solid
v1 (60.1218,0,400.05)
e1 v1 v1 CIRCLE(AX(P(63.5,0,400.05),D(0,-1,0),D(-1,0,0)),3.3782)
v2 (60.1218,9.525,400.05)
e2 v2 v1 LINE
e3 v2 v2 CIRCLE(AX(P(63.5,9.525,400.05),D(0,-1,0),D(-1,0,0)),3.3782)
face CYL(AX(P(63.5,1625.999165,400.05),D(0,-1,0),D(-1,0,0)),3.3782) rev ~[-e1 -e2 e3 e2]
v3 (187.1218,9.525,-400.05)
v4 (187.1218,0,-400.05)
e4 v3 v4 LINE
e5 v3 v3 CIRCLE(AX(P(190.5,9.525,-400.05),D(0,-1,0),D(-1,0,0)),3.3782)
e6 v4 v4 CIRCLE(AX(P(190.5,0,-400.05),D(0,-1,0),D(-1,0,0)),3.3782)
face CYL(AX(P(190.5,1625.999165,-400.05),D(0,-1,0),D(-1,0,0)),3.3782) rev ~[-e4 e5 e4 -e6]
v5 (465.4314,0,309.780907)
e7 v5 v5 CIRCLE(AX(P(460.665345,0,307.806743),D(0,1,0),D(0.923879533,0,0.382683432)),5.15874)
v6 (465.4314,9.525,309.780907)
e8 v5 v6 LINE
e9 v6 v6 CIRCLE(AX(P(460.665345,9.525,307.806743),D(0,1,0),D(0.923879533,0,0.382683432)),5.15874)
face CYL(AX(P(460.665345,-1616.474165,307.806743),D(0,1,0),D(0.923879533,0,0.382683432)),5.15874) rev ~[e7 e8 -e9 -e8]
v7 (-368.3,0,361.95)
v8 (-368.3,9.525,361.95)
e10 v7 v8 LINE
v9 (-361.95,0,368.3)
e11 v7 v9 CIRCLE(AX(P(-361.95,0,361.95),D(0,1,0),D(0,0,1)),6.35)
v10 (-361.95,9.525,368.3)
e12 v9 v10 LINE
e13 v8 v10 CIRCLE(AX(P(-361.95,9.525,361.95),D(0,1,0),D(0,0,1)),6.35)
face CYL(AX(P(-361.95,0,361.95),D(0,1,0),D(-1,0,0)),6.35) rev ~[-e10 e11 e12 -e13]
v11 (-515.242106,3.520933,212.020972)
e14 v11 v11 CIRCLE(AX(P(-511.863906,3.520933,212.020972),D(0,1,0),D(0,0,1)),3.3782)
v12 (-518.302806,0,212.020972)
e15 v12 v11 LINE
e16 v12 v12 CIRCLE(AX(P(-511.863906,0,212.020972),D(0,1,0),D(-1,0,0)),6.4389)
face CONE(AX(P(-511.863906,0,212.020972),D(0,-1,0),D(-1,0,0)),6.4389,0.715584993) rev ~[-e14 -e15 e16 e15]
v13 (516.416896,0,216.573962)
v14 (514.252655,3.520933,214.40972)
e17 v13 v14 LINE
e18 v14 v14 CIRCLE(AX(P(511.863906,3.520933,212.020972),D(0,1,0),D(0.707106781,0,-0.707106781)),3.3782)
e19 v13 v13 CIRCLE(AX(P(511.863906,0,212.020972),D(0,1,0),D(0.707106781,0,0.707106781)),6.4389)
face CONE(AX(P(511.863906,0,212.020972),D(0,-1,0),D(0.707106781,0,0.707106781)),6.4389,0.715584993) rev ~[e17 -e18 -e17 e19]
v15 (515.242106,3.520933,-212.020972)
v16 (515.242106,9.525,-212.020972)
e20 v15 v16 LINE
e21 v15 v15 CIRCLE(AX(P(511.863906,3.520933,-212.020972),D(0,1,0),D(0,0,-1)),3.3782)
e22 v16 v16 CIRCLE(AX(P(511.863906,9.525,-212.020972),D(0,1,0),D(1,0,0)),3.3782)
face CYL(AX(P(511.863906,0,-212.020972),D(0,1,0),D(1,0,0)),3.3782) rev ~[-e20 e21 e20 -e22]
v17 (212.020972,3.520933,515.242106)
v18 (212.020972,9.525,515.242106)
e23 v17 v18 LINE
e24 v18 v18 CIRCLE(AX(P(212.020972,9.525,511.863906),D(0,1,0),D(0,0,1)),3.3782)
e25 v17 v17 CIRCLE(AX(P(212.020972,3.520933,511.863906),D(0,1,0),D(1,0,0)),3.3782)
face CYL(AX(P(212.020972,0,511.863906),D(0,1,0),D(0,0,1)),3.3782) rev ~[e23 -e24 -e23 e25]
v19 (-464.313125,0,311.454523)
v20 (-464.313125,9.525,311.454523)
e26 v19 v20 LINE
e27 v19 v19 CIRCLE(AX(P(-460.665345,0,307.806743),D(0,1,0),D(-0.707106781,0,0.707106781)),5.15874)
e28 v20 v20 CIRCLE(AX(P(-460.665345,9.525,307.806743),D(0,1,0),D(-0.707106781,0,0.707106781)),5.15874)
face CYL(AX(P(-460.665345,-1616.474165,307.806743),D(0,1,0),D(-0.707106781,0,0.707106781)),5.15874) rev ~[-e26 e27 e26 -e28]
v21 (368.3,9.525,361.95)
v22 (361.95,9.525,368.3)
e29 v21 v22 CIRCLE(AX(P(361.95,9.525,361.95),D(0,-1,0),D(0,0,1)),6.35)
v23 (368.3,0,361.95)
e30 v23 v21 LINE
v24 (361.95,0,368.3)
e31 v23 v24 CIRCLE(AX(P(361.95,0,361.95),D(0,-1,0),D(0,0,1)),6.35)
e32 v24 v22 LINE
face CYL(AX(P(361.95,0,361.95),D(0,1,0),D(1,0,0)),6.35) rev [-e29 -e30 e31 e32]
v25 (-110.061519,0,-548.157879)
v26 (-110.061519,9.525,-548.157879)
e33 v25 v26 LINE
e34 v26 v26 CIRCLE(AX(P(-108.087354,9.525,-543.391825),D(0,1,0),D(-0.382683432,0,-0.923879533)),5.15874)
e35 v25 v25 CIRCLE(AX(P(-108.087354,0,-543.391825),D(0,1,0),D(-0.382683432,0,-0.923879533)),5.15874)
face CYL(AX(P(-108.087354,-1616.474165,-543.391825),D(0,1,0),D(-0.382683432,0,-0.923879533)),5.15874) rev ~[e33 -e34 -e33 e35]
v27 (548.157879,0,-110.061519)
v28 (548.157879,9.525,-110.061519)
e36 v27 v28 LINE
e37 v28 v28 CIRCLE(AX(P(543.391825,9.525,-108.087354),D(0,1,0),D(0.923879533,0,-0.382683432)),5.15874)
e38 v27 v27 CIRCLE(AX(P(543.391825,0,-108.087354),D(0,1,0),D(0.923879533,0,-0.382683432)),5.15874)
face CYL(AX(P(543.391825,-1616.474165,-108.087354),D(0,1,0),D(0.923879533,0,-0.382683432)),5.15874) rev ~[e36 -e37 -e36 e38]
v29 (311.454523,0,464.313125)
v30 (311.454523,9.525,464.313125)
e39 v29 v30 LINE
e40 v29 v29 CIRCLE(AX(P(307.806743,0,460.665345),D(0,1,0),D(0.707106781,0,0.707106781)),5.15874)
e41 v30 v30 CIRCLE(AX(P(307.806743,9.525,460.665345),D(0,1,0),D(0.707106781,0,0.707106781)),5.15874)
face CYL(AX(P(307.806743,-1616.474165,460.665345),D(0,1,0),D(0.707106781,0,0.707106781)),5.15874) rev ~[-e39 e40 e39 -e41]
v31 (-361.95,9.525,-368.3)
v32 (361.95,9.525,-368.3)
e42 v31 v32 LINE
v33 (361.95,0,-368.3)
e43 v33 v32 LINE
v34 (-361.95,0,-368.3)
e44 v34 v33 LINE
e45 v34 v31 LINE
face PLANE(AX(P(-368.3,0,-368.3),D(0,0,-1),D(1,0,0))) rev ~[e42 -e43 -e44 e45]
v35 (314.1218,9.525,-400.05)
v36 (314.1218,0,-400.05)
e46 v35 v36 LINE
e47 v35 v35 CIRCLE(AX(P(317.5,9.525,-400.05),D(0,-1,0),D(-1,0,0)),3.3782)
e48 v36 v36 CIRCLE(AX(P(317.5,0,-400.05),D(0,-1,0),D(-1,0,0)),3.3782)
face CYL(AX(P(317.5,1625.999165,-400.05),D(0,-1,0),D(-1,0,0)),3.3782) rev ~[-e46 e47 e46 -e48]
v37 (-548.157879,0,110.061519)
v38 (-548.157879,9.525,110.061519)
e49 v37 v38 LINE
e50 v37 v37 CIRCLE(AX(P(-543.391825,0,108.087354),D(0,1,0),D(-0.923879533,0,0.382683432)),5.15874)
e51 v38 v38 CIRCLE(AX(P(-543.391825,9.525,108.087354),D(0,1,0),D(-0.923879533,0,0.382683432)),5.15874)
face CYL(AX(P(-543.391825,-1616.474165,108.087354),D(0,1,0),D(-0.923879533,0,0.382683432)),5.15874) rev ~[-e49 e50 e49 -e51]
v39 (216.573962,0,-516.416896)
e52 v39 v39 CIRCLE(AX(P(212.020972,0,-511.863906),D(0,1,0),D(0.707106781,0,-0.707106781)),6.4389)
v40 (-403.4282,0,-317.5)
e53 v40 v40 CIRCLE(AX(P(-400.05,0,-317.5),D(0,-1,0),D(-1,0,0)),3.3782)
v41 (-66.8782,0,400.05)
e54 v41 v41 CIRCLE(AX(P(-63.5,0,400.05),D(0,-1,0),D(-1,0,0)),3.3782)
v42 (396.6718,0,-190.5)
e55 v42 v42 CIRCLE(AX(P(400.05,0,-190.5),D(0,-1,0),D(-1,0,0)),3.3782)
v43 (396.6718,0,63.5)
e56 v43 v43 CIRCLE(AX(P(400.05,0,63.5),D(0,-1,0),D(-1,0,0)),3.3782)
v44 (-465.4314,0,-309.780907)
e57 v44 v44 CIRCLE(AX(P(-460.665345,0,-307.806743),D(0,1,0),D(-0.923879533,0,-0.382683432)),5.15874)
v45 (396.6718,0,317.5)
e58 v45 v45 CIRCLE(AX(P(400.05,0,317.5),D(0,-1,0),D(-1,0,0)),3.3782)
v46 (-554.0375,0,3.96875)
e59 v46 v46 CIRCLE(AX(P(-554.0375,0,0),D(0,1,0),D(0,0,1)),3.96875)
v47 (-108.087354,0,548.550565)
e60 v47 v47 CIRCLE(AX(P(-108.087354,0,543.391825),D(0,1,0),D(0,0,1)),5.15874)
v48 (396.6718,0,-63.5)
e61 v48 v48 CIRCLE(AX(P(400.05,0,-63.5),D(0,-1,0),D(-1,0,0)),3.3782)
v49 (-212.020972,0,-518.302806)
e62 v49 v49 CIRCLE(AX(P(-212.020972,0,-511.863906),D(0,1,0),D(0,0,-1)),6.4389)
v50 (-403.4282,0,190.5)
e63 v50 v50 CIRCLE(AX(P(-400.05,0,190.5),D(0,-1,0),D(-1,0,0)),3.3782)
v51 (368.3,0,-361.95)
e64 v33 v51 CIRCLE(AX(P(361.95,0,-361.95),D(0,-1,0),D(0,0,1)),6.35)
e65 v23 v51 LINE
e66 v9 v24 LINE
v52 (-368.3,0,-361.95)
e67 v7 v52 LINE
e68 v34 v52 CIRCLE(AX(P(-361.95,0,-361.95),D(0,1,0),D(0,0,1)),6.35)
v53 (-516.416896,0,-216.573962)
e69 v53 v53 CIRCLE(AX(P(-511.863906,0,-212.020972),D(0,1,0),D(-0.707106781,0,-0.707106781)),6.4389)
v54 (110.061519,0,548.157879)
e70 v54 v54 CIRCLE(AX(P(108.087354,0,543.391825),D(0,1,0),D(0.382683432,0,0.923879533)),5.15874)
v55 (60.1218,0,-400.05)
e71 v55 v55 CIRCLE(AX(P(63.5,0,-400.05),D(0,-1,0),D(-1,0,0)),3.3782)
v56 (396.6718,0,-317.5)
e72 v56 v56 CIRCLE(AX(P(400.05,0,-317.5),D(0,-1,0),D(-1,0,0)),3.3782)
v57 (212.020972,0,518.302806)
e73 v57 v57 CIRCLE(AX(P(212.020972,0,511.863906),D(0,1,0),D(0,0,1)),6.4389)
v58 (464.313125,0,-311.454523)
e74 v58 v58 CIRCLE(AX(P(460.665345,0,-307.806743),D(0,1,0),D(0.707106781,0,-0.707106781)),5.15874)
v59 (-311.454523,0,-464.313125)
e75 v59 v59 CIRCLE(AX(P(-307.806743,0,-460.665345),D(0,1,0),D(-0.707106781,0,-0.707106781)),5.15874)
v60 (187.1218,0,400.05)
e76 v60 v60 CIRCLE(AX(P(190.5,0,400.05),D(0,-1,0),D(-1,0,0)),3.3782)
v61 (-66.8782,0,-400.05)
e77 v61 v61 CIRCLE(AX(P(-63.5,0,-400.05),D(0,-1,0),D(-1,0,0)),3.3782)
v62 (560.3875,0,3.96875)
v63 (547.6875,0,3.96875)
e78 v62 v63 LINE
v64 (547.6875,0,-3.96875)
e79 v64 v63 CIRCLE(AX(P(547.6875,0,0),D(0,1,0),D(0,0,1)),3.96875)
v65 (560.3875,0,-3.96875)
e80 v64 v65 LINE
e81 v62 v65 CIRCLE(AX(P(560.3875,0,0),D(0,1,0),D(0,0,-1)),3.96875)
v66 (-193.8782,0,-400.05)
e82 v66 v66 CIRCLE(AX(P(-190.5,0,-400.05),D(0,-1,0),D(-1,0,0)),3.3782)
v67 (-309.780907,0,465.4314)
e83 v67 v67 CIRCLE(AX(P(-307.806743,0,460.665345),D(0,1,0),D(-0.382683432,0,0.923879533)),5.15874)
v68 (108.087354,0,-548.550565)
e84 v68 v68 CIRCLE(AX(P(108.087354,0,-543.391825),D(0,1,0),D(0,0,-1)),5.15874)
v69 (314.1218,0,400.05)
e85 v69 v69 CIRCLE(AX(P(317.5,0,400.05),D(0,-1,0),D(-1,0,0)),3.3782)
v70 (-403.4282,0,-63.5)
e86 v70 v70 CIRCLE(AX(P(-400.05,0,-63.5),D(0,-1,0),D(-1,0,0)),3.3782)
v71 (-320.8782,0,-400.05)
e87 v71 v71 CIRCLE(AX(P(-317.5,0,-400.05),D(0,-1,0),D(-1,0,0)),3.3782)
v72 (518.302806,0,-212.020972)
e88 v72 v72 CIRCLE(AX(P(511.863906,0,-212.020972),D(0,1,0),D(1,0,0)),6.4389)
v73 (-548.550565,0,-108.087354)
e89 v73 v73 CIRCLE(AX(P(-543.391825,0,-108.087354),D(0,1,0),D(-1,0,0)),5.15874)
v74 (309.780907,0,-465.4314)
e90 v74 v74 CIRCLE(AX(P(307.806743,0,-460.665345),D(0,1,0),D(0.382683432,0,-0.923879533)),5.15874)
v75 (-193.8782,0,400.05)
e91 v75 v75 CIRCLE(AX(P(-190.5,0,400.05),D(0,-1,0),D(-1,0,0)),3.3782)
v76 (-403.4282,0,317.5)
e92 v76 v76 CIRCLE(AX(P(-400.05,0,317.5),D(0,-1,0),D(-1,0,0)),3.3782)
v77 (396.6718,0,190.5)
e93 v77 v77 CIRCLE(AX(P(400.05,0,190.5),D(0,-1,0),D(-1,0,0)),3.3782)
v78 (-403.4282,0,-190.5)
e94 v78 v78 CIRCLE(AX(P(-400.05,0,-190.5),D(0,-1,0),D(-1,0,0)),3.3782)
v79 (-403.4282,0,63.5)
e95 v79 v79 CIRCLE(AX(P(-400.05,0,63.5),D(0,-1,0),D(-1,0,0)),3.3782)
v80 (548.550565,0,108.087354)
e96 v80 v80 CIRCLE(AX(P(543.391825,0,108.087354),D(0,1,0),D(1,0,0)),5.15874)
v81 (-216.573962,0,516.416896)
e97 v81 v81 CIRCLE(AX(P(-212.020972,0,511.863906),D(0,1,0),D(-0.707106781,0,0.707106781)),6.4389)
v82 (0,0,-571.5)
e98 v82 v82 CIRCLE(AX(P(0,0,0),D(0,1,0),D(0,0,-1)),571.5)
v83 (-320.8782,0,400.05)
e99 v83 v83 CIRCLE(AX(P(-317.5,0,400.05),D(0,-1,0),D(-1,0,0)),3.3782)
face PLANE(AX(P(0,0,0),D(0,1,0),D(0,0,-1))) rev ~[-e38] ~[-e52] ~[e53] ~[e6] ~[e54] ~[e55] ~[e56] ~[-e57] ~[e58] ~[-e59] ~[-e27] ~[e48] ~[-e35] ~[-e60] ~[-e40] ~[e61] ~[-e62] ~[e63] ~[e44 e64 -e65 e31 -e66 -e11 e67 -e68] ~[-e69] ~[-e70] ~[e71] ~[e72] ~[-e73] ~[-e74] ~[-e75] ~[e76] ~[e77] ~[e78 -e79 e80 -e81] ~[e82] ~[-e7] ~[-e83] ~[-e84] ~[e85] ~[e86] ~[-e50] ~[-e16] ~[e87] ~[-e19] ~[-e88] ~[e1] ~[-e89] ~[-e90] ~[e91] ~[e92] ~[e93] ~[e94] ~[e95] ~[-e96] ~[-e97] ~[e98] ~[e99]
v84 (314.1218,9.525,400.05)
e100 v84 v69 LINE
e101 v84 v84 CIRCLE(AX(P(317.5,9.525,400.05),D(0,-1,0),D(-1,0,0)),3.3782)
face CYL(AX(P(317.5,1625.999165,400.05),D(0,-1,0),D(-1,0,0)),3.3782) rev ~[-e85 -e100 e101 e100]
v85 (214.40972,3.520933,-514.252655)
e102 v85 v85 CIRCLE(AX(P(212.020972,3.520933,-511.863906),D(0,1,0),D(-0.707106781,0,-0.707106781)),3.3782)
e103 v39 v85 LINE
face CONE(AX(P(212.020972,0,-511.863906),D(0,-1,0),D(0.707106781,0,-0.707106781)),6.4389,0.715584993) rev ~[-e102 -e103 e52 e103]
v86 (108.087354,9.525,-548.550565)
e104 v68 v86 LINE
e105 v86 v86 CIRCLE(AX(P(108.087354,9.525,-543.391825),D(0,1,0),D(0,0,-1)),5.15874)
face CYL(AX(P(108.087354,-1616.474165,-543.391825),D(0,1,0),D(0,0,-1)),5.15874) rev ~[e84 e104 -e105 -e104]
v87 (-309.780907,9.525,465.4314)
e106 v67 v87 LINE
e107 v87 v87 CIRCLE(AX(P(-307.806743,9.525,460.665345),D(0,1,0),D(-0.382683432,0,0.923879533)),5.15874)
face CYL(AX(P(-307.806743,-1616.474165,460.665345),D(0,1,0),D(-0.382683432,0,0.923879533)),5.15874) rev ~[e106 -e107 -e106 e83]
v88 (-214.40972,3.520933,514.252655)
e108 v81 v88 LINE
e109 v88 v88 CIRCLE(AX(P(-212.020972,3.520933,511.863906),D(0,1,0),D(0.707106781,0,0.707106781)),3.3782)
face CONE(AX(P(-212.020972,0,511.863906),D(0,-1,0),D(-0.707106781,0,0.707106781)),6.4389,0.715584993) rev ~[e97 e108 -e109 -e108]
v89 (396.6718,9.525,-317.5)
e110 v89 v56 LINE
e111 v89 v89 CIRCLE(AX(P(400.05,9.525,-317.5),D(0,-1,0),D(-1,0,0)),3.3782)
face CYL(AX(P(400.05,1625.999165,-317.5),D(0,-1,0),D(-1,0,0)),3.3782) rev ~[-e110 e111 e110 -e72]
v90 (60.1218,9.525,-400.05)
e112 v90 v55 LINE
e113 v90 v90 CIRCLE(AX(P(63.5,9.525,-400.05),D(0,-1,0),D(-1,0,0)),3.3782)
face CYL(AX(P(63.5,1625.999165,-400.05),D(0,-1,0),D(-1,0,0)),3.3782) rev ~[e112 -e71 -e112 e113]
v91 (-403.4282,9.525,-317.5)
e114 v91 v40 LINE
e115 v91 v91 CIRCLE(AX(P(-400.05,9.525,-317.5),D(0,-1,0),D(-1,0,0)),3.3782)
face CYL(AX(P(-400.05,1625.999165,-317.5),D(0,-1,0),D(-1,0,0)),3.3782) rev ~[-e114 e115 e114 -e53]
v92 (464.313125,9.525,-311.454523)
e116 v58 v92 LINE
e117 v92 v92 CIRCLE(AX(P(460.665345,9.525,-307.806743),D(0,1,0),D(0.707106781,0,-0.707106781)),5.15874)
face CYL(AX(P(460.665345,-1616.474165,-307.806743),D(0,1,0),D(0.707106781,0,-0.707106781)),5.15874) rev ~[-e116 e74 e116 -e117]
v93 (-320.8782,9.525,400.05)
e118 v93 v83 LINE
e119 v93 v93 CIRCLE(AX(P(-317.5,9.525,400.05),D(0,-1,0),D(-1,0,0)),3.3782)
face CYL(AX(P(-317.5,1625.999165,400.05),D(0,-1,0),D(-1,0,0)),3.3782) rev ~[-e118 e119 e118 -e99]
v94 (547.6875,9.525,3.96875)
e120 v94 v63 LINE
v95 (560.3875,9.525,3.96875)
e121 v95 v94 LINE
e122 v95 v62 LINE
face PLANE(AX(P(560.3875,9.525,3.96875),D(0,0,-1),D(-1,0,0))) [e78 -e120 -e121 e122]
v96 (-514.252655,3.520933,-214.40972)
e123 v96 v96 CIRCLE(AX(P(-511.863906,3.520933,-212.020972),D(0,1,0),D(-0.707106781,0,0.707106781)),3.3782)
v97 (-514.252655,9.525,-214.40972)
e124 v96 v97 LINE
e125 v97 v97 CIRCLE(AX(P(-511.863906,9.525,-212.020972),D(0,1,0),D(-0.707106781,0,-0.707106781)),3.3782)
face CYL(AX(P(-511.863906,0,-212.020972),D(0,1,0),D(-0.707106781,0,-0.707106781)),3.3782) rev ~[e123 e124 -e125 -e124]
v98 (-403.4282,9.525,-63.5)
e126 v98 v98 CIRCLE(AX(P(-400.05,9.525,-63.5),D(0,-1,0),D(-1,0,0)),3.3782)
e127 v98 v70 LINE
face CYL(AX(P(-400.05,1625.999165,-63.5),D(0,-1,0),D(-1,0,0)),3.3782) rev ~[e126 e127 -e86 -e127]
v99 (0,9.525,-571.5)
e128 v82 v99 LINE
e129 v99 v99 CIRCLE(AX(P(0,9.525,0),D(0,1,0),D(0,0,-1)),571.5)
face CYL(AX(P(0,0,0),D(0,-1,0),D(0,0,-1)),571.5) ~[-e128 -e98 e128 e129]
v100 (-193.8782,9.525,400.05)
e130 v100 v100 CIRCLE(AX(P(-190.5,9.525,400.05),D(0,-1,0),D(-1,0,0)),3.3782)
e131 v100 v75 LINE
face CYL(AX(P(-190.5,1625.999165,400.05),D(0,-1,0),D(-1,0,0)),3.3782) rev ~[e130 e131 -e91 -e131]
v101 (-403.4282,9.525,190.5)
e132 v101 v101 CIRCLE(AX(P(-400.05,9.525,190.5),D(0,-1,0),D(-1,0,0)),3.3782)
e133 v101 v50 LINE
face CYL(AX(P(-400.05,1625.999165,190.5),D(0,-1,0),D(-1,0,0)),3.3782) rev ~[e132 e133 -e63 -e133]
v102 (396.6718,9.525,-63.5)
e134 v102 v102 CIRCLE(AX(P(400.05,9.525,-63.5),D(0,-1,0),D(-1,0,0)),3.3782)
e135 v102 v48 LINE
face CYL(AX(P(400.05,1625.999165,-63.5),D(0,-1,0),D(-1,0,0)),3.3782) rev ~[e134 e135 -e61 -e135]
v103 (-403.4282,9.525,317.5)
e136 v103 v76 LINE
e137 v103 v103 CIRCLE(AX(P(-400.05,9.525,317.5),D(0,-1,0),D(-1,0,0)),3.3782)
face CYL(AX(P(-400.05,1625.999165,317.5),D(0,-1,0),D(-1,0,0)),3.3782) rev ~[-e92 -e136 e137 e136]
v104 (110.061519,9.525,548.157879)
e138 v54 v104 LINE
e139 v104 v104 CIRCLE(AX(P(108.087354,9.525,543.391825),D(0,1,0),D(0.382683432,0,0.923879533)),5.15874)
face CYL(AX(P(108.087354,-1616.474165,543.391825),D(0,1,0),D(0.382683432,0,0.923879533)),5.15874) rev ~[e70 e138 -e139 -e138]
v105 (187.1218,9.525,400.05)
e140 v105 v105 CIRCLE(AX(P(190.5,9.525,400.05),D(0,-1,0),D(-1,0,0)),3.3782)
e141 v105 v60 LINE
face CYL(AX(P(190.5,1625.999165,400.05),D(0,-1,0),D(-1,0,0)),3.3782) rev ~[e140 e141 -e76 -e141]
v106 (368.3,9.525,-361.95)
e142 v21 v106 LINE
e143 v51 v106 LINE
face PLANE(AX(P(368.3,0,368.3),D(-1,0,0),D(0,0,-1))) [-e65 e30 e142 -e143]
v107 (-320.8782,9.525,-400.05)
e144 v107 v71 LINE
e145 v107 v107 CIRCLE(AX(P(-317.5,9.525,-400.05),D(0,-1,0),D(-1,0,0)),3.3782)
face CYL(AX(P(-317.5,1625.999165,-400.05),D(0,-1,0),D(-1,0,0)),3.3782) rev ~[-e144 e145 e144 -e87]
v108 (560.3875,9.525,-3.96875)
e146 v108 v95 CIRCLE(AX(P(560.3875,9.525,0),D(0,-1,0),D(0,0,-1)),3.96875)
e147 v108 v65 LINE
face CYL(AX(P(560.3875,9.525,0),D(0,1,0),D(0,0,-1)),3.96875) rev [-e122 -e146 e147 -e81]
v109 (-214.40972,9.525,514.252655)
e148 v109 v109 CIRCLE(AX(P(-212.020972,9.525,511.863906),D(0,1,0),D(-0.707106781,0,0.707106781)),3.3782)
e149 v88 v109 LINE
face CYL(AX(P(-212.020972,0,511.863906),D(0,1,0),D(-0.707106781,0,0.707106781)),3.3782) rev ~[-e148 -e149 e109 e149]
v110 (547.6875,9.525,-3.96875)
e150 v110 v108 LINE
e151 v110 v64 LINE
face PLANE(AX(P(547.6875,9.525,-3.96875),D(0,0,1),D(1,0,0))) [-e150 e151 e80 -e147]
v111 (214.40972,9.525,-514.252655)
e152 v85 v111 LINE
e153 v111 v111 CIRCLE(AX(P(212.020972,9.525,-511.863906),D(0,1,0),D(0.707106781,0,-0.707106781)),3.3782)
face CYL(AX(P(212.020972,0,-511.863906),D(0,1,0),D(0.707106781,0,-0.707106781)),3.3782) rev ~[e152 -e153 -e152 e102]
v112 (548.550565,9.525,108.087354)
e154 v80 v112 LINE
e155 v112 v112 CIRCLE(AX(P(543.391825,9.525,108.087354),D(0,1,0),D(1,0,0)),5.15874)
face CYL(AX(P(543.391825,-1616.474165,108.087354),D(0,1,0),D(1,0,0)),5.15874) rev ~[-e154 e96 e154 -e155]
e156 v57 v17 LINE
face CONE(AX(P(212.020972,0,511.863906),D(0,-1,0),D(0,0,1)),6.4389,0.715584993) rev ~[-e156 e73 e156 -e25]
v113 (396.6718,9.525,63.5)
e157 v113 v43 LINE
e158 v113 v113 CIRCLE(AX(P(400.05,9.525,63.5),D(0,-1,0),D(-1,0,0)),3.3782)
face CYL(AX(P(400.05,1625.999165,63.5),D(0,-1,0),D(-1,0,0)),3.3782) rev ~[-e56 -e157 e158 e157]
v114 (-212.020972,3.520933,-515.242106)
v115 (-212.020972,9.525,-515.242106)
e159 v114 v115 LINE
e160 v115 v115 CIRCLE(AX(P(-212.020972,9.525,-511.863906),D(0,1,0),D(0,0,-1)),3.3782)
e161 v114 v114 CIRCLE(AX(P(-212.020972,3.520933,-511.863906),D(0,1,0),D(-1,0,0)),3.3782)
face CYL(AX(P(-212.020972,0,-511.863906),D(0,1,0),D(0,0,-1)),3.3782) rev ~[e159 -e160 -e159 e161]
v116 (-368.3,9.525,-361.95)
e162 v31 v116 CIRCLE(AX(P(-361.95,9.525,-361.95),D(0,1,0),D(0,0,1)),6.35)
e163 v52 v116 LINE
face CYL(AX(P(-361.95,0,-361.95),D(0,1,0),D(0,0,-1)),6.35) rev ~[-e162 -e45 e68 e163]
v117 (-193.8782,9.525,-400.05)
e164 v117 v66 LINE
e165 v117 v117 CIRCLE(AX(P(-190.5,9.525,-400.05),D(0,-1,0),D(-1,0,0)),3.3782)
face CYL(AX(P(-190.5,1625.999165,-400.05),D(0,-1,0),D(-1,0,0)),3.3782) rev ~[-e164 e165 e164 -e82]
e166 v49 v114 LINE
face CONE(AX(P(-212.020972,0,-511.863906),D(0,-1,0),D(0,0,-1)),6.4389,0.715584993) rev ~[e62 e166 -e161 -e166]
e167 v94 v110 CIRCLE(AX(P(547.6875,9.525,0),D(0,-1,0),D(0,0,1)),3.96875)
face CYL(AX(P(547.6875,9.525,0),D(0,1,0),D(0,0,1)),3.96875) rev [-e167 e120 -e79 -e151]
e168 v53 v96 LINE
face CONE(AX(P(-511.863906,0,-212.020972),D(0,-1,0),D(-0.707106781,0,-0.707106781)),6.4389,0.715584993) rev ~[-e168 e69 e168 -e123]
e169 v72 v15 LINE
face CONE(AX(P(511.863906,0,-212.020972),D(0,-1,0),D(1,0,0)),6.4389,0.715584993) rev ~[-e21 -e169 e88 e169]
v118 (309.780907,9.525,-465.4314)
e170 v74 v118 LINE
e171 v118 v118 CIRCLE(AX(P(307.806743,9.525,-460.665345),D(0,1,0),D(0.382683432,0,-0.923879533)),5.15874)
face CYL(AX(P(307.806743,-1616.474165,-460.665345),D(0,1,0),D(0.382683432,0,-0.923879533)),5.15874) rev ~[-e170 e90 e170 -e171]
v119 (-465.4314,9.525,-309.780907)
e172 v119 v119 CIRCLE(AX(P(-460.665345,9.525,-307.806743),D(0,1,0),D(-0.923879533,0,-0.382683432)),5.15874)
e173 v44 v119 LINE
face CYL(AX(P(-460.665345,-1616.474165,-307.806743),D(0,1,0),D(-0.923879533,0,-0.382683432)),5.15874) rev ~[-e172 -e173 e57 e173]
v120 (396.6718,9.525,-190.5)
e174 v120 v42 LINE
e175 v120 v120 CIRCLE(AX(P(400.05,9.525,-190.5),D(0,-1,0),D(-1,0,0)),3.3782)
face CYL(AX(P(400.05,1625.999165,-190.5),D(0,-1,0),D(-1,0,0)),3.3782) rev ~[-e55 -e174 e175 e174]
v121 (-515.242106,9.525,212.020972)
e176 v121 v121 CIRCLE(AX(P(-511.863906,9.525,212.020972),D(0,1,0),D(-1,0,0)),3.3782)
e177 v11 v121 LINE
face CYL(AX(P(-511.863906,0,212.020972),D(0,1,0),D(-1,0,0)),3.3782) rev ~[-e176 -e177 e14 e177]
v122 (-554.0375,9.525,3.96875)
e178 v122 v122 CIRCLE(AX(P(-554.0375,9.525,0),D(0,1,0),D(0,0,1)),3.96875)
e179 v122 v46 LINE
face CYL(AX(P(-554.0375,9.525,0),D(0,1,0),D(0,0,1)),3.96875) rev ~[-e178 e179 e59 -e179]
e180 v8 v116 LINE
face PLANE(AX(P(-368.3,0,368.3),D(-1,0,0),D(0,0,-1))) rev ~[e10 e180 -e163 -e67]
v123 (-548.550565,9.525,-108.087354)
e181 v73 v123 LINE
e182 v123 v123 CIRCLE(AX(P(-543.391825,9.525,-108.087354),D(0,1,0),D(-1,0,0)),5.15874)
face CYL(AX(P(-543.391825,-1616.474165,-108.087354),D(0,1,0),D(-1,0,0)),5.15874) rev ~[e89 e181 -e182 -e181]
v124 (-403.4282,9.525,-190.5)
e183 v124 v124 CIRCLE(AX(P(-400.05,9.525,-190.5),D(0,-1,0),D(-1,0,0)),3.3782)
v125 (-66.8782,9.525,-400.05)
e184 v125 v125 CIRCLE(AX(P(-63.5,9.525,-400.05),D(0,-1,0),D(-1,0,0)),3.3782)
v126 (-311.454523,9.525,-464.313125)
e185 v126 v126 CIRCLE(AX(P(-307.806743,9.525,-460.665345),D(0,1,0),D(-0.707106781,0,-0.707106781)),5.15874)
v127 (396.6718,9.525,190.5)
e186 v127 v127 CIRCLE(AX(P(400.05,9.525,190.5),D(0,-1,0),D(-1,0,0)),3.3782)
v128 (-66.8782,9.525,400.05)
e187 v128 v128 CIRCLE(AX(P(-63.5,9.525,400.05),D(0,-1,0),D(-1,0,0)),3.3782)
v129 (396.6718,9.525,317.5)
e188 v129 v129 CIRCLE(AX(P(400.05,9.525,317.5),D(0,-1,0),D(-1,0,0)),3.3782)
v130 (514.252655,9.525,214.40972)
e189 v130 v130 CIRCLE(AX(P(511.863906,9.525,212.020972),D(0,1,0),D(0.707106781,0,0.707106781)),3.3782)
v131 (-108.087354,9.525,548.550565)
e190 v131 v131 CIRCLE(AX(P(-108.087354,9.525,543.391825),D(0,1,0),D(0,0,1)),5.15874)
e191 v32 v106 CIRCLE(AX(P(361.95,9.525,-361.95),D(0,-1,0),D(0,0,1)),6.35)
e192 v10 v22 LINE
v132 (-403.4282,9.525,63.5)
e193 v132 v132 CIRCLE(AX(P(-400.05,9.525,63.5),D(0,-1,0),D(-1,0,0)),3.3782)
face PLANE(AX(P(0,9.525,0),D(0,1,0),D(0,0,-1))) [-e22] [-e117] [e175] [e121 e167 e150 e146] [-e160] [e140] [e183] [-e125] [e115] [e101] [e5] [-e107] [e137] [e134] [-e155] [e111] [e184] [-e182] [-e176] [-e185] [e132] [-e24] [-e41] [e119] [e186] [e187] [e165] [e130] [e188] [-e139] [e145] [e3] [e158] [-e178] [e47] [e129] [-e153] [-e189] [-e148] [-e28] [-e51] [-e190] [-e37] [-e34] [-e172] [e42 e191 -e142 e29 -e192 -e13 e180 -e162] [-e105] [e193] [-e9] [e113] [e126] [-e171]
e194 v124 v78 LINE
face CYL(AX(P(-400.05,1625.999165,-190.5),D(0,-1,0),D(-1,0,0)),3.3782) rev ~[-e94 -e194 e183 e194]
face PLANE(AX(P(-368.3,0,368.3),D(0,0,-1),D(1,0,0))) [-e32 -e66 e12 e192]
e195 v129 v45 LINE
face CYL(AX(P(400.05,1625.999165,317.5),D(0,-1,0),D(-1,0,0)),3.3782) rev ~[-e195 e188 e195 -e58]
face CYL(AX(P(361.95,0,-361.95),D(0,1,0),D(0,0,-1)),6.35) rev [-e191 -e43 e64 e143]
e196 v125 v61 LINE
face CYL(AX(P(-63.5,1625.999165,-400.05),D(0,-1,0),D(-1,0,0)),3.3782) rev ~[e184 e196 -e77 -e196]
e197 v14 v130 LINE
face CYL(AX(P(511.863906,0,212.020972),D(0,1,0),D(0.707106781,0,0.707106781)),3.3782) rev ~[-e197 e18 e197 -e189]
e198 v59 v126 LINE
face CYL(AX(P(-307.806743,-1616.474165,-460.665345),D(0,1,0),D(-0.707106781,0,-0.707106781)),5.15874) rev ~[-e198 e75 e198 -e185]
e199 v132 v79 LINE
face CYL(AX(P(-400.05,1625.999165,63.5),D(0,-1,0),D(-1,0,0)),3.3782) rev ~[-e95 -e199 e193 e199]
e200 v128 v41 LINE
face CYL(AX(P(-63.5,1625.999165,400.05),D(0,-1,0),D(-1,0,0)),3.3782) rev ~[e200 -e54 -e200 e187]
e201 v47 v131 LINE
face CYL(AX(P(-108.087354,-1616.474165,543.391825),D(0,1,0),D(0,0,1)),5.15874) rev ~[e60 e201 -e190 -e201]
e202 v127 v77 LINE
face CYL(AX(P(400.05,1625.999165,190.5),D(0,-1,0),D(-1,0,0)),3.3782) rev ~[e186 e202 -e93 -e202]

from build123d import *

# Parameters (mm, degrees)
SKETCH1_R                                        = 571.5
SKETCH1_W                                        = 736.6
SKETCH1_H                                        = 736.6
BOSS_EXTRUDE1_DEPTH                              = 9.525
SKETCH3_R                                        = 3.96875
CUT_EXTRUDE1_DEPTH                               = 809.279175548
F_3_8_CLEARANCE_HOLE1_D                          = 10.31748
CIRPATTERN_16X_3_8_CLEARANCE_HOLES_COUNT         = 16
F_1_4_BOX_HOLES_2_D                              = 6.7564
LPATTERN1_COUNT                                  = 6
LPATTERN1_PITCH                                  = 127
LPATTERN1_COUNT_DIR2                             = 2
LPATTERN1_PITCH_DIR2                             = 800.1
F_1_4_BOX_HOLES_1_D                              = 6.7564
LPATTERN2_COUNT                                  = 6
LPATTERN2_PITCH                                  = 127
LPATTERN2_COUNT_DIR2                             = 2
LPATTERN2_PITCH_DIR2                             = 800.1
CSK_FOR_1_4_FLAT_HEAD_MACHINE_SCREW1_D           = 6.7564
CSK_FOR_1_4_FLAT_HEAD_MACHINE_SCREW1_CSINK_D     = 12.8778
CSK_FOR_1_4_FLAT_HEAD_MACHINE_SCREW1_CSINK_ANGLE = 82
CIRPATTERN4_COUNT                                = 8
FILLET1_R                                        = 6.35


with BuildPart() as part:
    # Sketch1 → Boss-Extrude1 (new body)
    with BuildSketch(Plane(origin=(0, 0, 0), x_dir=(1, 0, 0), z_dir=(0, 1, 0))):
        with Locations(Location((0, 0, 0), (0, 0, 90))):
            Circle(SKETCH1_R)
        Rectangle(SKETCH1_W, SKETCH1_H, mode=Mode.SUBTRACT)
    extrude(amount=BOSS_EXTRUDE1_DEPTH)

    # Sketch3 → Cut-Extrude1 (cut, through all)
    with BuildSketch(Plane(origin=(0, 9.525, 0), x_dir=(1, 0, 0), z_dir=(0, 1, 0))):
        with Locations(Location((-554.0375, 0, 0), (0, 0, 270))):
            Circle(SKETCH3_R)
        with BuildLine():
            Line((547.6875, 3.96875), (560.3875, 3.96875))
            ThreePointArc((560.3875, 3.96875), (564.35625, 0), (560.3875, -3.96875))
            Line((560.3875, -3.96875), (547.6875, -3.96875))
            ThreePointArc((547.6875, -3.96875), (543.71875, 0), (547.6875, 3.96875))
        make_face()
    extrude(amount=-CUT_EXTRUDE1_DEPTH, mode=Mode.SUBTRACT)

    # 3/8 Clearance Hole1 (through all)
    with Locations(Plane(origin=(0, 0, 0), x_dir=(-1, 0, 0), z_dir=(0, -1, 0))):
        with Locations((-543.391824791, -108.087354284)):
            f_3_8_clearance_hole1 = Hole(F_3_8_CLEARANCE_HOLE1_D / 2)

    # CirPattern - 16X 3/8 Clearance Holes: 3/8 Clearance Hole1 ×16 about axis
    cirpattern_16x_3_8_clearance_holes_axis = Axis((0, 0, 0), (0, 1, 0))
    for i in range(1, CIRPATTERN_16X_3_8_CLEARANCE_HOLES_COUNT):
        add(f_3_8_clearance_hole1.rotate(cirpattern_16x_3_8_clearance_holes_axis, i * 360 / CIRPATTERN_16X_3_8_CLEARANCE_HOLES_COUNT), mode=Mode.SUBTRACT)

    # 1/4 Box Holes 2 (through all)
    with Locations(Plane(origin=(0, 9.525, 0), x_dir=(1, 0, 0), z_dir=(0, 1, 0))):
        with Locations((-317.5, -400.05)):
            f_1_4_box_holes_2 = Hole(F_1_4_BOX_HOLES_2_D / 2)

    # LPattern1: 1_4 Box Holes 2 6 × 2
    with Locations(*[(i * LPATTERN1_PITCH, 0, -j * LPATTERN1_PITCH_DIR2) for i in range(LPATTERN1_COUNT) for j in range(LPATTERN1_COUNT_DIR2) if (i, j) != (0, 0)]):
        add(f_1_4_box_holes_2, mode=Mode.SUBTRACT)

    # 1/4 Box Holes 1 (through all)
    with Locations(Plane(origin=(0, 9.525, 0), x_dir=(1, 0, 0), z_dir=(0, 1, 0))):
        with Locations((-400.05, -317.5)):
            f_1_4_box_holes_1 = Hole(F_1_4_BOX_HOLES_1_D / 2)

    # LPattern2: 1_4 Box Holes 1 6 × 2
    with Locations(*[(j * LPATTERN2_PITCH_DIR2, 0, -i * LPATTERN2_PITCH) for i in range(LPATTERN2_COUNT) for j in range(LPATTERN2_COUNT_DIR2) if (i, j) != (0, 0)]):
        add(f_1_4_box_holes_1, mode=Mode.SUBTRACT)

    # CSK for 1/4 Flat Head Machine Screw1 (through all)
    with Locations(Plane(origin=(0, 0, 0), x_dir=(-1, 0, 0), z_dir=(0, -1, 0))):
        with Locations((-511.863906494, 212.020972159)):
            csk_for_1_4_flat_head_machine_screw1 = CounterSinkHole(CSK_FOR_1_4_FLAT_HEAD_MACHINE_SCREW1_D / 2, CSK_FOR_1_4_FLAT_HEAD_MACHINE_SCREW1_CSINK_D / 2, counter_sink_angle=CSK_FOR_1_4_FLAT_HEAD_MACHINE_SCREW1_CSINK_ANGLE)

    # CirPattern4: CSK for 1/4 Flat Head Machine Screw1 ×8 about axis
    cirpattern4_axis = Axis((0, 0, 0), (0, 1, 0))
    for i in range(1, CIRPATTERN4_COUNT):
        add(csk_for_1_4_flat_head_machine_screw1.rotate(cirpattern4_axis, i * 360 / CIRPATTERN4_COUNT), mode=Mode.SUBTRACT)

    # Fillet1
    fillet1_edges = [part.edges().sort_by_distance(p)[0] for p in [
        (-368.3, 4.7625, -368.3),
        (-368.3, 4.7625, 368.3),
        (368.3, 4.7625, 368.3),
        (368.3, 4.7625, -368.3),
    ]]
    fillet(fillet1_edges, radius=FILLET1_R)


solid = part.part
